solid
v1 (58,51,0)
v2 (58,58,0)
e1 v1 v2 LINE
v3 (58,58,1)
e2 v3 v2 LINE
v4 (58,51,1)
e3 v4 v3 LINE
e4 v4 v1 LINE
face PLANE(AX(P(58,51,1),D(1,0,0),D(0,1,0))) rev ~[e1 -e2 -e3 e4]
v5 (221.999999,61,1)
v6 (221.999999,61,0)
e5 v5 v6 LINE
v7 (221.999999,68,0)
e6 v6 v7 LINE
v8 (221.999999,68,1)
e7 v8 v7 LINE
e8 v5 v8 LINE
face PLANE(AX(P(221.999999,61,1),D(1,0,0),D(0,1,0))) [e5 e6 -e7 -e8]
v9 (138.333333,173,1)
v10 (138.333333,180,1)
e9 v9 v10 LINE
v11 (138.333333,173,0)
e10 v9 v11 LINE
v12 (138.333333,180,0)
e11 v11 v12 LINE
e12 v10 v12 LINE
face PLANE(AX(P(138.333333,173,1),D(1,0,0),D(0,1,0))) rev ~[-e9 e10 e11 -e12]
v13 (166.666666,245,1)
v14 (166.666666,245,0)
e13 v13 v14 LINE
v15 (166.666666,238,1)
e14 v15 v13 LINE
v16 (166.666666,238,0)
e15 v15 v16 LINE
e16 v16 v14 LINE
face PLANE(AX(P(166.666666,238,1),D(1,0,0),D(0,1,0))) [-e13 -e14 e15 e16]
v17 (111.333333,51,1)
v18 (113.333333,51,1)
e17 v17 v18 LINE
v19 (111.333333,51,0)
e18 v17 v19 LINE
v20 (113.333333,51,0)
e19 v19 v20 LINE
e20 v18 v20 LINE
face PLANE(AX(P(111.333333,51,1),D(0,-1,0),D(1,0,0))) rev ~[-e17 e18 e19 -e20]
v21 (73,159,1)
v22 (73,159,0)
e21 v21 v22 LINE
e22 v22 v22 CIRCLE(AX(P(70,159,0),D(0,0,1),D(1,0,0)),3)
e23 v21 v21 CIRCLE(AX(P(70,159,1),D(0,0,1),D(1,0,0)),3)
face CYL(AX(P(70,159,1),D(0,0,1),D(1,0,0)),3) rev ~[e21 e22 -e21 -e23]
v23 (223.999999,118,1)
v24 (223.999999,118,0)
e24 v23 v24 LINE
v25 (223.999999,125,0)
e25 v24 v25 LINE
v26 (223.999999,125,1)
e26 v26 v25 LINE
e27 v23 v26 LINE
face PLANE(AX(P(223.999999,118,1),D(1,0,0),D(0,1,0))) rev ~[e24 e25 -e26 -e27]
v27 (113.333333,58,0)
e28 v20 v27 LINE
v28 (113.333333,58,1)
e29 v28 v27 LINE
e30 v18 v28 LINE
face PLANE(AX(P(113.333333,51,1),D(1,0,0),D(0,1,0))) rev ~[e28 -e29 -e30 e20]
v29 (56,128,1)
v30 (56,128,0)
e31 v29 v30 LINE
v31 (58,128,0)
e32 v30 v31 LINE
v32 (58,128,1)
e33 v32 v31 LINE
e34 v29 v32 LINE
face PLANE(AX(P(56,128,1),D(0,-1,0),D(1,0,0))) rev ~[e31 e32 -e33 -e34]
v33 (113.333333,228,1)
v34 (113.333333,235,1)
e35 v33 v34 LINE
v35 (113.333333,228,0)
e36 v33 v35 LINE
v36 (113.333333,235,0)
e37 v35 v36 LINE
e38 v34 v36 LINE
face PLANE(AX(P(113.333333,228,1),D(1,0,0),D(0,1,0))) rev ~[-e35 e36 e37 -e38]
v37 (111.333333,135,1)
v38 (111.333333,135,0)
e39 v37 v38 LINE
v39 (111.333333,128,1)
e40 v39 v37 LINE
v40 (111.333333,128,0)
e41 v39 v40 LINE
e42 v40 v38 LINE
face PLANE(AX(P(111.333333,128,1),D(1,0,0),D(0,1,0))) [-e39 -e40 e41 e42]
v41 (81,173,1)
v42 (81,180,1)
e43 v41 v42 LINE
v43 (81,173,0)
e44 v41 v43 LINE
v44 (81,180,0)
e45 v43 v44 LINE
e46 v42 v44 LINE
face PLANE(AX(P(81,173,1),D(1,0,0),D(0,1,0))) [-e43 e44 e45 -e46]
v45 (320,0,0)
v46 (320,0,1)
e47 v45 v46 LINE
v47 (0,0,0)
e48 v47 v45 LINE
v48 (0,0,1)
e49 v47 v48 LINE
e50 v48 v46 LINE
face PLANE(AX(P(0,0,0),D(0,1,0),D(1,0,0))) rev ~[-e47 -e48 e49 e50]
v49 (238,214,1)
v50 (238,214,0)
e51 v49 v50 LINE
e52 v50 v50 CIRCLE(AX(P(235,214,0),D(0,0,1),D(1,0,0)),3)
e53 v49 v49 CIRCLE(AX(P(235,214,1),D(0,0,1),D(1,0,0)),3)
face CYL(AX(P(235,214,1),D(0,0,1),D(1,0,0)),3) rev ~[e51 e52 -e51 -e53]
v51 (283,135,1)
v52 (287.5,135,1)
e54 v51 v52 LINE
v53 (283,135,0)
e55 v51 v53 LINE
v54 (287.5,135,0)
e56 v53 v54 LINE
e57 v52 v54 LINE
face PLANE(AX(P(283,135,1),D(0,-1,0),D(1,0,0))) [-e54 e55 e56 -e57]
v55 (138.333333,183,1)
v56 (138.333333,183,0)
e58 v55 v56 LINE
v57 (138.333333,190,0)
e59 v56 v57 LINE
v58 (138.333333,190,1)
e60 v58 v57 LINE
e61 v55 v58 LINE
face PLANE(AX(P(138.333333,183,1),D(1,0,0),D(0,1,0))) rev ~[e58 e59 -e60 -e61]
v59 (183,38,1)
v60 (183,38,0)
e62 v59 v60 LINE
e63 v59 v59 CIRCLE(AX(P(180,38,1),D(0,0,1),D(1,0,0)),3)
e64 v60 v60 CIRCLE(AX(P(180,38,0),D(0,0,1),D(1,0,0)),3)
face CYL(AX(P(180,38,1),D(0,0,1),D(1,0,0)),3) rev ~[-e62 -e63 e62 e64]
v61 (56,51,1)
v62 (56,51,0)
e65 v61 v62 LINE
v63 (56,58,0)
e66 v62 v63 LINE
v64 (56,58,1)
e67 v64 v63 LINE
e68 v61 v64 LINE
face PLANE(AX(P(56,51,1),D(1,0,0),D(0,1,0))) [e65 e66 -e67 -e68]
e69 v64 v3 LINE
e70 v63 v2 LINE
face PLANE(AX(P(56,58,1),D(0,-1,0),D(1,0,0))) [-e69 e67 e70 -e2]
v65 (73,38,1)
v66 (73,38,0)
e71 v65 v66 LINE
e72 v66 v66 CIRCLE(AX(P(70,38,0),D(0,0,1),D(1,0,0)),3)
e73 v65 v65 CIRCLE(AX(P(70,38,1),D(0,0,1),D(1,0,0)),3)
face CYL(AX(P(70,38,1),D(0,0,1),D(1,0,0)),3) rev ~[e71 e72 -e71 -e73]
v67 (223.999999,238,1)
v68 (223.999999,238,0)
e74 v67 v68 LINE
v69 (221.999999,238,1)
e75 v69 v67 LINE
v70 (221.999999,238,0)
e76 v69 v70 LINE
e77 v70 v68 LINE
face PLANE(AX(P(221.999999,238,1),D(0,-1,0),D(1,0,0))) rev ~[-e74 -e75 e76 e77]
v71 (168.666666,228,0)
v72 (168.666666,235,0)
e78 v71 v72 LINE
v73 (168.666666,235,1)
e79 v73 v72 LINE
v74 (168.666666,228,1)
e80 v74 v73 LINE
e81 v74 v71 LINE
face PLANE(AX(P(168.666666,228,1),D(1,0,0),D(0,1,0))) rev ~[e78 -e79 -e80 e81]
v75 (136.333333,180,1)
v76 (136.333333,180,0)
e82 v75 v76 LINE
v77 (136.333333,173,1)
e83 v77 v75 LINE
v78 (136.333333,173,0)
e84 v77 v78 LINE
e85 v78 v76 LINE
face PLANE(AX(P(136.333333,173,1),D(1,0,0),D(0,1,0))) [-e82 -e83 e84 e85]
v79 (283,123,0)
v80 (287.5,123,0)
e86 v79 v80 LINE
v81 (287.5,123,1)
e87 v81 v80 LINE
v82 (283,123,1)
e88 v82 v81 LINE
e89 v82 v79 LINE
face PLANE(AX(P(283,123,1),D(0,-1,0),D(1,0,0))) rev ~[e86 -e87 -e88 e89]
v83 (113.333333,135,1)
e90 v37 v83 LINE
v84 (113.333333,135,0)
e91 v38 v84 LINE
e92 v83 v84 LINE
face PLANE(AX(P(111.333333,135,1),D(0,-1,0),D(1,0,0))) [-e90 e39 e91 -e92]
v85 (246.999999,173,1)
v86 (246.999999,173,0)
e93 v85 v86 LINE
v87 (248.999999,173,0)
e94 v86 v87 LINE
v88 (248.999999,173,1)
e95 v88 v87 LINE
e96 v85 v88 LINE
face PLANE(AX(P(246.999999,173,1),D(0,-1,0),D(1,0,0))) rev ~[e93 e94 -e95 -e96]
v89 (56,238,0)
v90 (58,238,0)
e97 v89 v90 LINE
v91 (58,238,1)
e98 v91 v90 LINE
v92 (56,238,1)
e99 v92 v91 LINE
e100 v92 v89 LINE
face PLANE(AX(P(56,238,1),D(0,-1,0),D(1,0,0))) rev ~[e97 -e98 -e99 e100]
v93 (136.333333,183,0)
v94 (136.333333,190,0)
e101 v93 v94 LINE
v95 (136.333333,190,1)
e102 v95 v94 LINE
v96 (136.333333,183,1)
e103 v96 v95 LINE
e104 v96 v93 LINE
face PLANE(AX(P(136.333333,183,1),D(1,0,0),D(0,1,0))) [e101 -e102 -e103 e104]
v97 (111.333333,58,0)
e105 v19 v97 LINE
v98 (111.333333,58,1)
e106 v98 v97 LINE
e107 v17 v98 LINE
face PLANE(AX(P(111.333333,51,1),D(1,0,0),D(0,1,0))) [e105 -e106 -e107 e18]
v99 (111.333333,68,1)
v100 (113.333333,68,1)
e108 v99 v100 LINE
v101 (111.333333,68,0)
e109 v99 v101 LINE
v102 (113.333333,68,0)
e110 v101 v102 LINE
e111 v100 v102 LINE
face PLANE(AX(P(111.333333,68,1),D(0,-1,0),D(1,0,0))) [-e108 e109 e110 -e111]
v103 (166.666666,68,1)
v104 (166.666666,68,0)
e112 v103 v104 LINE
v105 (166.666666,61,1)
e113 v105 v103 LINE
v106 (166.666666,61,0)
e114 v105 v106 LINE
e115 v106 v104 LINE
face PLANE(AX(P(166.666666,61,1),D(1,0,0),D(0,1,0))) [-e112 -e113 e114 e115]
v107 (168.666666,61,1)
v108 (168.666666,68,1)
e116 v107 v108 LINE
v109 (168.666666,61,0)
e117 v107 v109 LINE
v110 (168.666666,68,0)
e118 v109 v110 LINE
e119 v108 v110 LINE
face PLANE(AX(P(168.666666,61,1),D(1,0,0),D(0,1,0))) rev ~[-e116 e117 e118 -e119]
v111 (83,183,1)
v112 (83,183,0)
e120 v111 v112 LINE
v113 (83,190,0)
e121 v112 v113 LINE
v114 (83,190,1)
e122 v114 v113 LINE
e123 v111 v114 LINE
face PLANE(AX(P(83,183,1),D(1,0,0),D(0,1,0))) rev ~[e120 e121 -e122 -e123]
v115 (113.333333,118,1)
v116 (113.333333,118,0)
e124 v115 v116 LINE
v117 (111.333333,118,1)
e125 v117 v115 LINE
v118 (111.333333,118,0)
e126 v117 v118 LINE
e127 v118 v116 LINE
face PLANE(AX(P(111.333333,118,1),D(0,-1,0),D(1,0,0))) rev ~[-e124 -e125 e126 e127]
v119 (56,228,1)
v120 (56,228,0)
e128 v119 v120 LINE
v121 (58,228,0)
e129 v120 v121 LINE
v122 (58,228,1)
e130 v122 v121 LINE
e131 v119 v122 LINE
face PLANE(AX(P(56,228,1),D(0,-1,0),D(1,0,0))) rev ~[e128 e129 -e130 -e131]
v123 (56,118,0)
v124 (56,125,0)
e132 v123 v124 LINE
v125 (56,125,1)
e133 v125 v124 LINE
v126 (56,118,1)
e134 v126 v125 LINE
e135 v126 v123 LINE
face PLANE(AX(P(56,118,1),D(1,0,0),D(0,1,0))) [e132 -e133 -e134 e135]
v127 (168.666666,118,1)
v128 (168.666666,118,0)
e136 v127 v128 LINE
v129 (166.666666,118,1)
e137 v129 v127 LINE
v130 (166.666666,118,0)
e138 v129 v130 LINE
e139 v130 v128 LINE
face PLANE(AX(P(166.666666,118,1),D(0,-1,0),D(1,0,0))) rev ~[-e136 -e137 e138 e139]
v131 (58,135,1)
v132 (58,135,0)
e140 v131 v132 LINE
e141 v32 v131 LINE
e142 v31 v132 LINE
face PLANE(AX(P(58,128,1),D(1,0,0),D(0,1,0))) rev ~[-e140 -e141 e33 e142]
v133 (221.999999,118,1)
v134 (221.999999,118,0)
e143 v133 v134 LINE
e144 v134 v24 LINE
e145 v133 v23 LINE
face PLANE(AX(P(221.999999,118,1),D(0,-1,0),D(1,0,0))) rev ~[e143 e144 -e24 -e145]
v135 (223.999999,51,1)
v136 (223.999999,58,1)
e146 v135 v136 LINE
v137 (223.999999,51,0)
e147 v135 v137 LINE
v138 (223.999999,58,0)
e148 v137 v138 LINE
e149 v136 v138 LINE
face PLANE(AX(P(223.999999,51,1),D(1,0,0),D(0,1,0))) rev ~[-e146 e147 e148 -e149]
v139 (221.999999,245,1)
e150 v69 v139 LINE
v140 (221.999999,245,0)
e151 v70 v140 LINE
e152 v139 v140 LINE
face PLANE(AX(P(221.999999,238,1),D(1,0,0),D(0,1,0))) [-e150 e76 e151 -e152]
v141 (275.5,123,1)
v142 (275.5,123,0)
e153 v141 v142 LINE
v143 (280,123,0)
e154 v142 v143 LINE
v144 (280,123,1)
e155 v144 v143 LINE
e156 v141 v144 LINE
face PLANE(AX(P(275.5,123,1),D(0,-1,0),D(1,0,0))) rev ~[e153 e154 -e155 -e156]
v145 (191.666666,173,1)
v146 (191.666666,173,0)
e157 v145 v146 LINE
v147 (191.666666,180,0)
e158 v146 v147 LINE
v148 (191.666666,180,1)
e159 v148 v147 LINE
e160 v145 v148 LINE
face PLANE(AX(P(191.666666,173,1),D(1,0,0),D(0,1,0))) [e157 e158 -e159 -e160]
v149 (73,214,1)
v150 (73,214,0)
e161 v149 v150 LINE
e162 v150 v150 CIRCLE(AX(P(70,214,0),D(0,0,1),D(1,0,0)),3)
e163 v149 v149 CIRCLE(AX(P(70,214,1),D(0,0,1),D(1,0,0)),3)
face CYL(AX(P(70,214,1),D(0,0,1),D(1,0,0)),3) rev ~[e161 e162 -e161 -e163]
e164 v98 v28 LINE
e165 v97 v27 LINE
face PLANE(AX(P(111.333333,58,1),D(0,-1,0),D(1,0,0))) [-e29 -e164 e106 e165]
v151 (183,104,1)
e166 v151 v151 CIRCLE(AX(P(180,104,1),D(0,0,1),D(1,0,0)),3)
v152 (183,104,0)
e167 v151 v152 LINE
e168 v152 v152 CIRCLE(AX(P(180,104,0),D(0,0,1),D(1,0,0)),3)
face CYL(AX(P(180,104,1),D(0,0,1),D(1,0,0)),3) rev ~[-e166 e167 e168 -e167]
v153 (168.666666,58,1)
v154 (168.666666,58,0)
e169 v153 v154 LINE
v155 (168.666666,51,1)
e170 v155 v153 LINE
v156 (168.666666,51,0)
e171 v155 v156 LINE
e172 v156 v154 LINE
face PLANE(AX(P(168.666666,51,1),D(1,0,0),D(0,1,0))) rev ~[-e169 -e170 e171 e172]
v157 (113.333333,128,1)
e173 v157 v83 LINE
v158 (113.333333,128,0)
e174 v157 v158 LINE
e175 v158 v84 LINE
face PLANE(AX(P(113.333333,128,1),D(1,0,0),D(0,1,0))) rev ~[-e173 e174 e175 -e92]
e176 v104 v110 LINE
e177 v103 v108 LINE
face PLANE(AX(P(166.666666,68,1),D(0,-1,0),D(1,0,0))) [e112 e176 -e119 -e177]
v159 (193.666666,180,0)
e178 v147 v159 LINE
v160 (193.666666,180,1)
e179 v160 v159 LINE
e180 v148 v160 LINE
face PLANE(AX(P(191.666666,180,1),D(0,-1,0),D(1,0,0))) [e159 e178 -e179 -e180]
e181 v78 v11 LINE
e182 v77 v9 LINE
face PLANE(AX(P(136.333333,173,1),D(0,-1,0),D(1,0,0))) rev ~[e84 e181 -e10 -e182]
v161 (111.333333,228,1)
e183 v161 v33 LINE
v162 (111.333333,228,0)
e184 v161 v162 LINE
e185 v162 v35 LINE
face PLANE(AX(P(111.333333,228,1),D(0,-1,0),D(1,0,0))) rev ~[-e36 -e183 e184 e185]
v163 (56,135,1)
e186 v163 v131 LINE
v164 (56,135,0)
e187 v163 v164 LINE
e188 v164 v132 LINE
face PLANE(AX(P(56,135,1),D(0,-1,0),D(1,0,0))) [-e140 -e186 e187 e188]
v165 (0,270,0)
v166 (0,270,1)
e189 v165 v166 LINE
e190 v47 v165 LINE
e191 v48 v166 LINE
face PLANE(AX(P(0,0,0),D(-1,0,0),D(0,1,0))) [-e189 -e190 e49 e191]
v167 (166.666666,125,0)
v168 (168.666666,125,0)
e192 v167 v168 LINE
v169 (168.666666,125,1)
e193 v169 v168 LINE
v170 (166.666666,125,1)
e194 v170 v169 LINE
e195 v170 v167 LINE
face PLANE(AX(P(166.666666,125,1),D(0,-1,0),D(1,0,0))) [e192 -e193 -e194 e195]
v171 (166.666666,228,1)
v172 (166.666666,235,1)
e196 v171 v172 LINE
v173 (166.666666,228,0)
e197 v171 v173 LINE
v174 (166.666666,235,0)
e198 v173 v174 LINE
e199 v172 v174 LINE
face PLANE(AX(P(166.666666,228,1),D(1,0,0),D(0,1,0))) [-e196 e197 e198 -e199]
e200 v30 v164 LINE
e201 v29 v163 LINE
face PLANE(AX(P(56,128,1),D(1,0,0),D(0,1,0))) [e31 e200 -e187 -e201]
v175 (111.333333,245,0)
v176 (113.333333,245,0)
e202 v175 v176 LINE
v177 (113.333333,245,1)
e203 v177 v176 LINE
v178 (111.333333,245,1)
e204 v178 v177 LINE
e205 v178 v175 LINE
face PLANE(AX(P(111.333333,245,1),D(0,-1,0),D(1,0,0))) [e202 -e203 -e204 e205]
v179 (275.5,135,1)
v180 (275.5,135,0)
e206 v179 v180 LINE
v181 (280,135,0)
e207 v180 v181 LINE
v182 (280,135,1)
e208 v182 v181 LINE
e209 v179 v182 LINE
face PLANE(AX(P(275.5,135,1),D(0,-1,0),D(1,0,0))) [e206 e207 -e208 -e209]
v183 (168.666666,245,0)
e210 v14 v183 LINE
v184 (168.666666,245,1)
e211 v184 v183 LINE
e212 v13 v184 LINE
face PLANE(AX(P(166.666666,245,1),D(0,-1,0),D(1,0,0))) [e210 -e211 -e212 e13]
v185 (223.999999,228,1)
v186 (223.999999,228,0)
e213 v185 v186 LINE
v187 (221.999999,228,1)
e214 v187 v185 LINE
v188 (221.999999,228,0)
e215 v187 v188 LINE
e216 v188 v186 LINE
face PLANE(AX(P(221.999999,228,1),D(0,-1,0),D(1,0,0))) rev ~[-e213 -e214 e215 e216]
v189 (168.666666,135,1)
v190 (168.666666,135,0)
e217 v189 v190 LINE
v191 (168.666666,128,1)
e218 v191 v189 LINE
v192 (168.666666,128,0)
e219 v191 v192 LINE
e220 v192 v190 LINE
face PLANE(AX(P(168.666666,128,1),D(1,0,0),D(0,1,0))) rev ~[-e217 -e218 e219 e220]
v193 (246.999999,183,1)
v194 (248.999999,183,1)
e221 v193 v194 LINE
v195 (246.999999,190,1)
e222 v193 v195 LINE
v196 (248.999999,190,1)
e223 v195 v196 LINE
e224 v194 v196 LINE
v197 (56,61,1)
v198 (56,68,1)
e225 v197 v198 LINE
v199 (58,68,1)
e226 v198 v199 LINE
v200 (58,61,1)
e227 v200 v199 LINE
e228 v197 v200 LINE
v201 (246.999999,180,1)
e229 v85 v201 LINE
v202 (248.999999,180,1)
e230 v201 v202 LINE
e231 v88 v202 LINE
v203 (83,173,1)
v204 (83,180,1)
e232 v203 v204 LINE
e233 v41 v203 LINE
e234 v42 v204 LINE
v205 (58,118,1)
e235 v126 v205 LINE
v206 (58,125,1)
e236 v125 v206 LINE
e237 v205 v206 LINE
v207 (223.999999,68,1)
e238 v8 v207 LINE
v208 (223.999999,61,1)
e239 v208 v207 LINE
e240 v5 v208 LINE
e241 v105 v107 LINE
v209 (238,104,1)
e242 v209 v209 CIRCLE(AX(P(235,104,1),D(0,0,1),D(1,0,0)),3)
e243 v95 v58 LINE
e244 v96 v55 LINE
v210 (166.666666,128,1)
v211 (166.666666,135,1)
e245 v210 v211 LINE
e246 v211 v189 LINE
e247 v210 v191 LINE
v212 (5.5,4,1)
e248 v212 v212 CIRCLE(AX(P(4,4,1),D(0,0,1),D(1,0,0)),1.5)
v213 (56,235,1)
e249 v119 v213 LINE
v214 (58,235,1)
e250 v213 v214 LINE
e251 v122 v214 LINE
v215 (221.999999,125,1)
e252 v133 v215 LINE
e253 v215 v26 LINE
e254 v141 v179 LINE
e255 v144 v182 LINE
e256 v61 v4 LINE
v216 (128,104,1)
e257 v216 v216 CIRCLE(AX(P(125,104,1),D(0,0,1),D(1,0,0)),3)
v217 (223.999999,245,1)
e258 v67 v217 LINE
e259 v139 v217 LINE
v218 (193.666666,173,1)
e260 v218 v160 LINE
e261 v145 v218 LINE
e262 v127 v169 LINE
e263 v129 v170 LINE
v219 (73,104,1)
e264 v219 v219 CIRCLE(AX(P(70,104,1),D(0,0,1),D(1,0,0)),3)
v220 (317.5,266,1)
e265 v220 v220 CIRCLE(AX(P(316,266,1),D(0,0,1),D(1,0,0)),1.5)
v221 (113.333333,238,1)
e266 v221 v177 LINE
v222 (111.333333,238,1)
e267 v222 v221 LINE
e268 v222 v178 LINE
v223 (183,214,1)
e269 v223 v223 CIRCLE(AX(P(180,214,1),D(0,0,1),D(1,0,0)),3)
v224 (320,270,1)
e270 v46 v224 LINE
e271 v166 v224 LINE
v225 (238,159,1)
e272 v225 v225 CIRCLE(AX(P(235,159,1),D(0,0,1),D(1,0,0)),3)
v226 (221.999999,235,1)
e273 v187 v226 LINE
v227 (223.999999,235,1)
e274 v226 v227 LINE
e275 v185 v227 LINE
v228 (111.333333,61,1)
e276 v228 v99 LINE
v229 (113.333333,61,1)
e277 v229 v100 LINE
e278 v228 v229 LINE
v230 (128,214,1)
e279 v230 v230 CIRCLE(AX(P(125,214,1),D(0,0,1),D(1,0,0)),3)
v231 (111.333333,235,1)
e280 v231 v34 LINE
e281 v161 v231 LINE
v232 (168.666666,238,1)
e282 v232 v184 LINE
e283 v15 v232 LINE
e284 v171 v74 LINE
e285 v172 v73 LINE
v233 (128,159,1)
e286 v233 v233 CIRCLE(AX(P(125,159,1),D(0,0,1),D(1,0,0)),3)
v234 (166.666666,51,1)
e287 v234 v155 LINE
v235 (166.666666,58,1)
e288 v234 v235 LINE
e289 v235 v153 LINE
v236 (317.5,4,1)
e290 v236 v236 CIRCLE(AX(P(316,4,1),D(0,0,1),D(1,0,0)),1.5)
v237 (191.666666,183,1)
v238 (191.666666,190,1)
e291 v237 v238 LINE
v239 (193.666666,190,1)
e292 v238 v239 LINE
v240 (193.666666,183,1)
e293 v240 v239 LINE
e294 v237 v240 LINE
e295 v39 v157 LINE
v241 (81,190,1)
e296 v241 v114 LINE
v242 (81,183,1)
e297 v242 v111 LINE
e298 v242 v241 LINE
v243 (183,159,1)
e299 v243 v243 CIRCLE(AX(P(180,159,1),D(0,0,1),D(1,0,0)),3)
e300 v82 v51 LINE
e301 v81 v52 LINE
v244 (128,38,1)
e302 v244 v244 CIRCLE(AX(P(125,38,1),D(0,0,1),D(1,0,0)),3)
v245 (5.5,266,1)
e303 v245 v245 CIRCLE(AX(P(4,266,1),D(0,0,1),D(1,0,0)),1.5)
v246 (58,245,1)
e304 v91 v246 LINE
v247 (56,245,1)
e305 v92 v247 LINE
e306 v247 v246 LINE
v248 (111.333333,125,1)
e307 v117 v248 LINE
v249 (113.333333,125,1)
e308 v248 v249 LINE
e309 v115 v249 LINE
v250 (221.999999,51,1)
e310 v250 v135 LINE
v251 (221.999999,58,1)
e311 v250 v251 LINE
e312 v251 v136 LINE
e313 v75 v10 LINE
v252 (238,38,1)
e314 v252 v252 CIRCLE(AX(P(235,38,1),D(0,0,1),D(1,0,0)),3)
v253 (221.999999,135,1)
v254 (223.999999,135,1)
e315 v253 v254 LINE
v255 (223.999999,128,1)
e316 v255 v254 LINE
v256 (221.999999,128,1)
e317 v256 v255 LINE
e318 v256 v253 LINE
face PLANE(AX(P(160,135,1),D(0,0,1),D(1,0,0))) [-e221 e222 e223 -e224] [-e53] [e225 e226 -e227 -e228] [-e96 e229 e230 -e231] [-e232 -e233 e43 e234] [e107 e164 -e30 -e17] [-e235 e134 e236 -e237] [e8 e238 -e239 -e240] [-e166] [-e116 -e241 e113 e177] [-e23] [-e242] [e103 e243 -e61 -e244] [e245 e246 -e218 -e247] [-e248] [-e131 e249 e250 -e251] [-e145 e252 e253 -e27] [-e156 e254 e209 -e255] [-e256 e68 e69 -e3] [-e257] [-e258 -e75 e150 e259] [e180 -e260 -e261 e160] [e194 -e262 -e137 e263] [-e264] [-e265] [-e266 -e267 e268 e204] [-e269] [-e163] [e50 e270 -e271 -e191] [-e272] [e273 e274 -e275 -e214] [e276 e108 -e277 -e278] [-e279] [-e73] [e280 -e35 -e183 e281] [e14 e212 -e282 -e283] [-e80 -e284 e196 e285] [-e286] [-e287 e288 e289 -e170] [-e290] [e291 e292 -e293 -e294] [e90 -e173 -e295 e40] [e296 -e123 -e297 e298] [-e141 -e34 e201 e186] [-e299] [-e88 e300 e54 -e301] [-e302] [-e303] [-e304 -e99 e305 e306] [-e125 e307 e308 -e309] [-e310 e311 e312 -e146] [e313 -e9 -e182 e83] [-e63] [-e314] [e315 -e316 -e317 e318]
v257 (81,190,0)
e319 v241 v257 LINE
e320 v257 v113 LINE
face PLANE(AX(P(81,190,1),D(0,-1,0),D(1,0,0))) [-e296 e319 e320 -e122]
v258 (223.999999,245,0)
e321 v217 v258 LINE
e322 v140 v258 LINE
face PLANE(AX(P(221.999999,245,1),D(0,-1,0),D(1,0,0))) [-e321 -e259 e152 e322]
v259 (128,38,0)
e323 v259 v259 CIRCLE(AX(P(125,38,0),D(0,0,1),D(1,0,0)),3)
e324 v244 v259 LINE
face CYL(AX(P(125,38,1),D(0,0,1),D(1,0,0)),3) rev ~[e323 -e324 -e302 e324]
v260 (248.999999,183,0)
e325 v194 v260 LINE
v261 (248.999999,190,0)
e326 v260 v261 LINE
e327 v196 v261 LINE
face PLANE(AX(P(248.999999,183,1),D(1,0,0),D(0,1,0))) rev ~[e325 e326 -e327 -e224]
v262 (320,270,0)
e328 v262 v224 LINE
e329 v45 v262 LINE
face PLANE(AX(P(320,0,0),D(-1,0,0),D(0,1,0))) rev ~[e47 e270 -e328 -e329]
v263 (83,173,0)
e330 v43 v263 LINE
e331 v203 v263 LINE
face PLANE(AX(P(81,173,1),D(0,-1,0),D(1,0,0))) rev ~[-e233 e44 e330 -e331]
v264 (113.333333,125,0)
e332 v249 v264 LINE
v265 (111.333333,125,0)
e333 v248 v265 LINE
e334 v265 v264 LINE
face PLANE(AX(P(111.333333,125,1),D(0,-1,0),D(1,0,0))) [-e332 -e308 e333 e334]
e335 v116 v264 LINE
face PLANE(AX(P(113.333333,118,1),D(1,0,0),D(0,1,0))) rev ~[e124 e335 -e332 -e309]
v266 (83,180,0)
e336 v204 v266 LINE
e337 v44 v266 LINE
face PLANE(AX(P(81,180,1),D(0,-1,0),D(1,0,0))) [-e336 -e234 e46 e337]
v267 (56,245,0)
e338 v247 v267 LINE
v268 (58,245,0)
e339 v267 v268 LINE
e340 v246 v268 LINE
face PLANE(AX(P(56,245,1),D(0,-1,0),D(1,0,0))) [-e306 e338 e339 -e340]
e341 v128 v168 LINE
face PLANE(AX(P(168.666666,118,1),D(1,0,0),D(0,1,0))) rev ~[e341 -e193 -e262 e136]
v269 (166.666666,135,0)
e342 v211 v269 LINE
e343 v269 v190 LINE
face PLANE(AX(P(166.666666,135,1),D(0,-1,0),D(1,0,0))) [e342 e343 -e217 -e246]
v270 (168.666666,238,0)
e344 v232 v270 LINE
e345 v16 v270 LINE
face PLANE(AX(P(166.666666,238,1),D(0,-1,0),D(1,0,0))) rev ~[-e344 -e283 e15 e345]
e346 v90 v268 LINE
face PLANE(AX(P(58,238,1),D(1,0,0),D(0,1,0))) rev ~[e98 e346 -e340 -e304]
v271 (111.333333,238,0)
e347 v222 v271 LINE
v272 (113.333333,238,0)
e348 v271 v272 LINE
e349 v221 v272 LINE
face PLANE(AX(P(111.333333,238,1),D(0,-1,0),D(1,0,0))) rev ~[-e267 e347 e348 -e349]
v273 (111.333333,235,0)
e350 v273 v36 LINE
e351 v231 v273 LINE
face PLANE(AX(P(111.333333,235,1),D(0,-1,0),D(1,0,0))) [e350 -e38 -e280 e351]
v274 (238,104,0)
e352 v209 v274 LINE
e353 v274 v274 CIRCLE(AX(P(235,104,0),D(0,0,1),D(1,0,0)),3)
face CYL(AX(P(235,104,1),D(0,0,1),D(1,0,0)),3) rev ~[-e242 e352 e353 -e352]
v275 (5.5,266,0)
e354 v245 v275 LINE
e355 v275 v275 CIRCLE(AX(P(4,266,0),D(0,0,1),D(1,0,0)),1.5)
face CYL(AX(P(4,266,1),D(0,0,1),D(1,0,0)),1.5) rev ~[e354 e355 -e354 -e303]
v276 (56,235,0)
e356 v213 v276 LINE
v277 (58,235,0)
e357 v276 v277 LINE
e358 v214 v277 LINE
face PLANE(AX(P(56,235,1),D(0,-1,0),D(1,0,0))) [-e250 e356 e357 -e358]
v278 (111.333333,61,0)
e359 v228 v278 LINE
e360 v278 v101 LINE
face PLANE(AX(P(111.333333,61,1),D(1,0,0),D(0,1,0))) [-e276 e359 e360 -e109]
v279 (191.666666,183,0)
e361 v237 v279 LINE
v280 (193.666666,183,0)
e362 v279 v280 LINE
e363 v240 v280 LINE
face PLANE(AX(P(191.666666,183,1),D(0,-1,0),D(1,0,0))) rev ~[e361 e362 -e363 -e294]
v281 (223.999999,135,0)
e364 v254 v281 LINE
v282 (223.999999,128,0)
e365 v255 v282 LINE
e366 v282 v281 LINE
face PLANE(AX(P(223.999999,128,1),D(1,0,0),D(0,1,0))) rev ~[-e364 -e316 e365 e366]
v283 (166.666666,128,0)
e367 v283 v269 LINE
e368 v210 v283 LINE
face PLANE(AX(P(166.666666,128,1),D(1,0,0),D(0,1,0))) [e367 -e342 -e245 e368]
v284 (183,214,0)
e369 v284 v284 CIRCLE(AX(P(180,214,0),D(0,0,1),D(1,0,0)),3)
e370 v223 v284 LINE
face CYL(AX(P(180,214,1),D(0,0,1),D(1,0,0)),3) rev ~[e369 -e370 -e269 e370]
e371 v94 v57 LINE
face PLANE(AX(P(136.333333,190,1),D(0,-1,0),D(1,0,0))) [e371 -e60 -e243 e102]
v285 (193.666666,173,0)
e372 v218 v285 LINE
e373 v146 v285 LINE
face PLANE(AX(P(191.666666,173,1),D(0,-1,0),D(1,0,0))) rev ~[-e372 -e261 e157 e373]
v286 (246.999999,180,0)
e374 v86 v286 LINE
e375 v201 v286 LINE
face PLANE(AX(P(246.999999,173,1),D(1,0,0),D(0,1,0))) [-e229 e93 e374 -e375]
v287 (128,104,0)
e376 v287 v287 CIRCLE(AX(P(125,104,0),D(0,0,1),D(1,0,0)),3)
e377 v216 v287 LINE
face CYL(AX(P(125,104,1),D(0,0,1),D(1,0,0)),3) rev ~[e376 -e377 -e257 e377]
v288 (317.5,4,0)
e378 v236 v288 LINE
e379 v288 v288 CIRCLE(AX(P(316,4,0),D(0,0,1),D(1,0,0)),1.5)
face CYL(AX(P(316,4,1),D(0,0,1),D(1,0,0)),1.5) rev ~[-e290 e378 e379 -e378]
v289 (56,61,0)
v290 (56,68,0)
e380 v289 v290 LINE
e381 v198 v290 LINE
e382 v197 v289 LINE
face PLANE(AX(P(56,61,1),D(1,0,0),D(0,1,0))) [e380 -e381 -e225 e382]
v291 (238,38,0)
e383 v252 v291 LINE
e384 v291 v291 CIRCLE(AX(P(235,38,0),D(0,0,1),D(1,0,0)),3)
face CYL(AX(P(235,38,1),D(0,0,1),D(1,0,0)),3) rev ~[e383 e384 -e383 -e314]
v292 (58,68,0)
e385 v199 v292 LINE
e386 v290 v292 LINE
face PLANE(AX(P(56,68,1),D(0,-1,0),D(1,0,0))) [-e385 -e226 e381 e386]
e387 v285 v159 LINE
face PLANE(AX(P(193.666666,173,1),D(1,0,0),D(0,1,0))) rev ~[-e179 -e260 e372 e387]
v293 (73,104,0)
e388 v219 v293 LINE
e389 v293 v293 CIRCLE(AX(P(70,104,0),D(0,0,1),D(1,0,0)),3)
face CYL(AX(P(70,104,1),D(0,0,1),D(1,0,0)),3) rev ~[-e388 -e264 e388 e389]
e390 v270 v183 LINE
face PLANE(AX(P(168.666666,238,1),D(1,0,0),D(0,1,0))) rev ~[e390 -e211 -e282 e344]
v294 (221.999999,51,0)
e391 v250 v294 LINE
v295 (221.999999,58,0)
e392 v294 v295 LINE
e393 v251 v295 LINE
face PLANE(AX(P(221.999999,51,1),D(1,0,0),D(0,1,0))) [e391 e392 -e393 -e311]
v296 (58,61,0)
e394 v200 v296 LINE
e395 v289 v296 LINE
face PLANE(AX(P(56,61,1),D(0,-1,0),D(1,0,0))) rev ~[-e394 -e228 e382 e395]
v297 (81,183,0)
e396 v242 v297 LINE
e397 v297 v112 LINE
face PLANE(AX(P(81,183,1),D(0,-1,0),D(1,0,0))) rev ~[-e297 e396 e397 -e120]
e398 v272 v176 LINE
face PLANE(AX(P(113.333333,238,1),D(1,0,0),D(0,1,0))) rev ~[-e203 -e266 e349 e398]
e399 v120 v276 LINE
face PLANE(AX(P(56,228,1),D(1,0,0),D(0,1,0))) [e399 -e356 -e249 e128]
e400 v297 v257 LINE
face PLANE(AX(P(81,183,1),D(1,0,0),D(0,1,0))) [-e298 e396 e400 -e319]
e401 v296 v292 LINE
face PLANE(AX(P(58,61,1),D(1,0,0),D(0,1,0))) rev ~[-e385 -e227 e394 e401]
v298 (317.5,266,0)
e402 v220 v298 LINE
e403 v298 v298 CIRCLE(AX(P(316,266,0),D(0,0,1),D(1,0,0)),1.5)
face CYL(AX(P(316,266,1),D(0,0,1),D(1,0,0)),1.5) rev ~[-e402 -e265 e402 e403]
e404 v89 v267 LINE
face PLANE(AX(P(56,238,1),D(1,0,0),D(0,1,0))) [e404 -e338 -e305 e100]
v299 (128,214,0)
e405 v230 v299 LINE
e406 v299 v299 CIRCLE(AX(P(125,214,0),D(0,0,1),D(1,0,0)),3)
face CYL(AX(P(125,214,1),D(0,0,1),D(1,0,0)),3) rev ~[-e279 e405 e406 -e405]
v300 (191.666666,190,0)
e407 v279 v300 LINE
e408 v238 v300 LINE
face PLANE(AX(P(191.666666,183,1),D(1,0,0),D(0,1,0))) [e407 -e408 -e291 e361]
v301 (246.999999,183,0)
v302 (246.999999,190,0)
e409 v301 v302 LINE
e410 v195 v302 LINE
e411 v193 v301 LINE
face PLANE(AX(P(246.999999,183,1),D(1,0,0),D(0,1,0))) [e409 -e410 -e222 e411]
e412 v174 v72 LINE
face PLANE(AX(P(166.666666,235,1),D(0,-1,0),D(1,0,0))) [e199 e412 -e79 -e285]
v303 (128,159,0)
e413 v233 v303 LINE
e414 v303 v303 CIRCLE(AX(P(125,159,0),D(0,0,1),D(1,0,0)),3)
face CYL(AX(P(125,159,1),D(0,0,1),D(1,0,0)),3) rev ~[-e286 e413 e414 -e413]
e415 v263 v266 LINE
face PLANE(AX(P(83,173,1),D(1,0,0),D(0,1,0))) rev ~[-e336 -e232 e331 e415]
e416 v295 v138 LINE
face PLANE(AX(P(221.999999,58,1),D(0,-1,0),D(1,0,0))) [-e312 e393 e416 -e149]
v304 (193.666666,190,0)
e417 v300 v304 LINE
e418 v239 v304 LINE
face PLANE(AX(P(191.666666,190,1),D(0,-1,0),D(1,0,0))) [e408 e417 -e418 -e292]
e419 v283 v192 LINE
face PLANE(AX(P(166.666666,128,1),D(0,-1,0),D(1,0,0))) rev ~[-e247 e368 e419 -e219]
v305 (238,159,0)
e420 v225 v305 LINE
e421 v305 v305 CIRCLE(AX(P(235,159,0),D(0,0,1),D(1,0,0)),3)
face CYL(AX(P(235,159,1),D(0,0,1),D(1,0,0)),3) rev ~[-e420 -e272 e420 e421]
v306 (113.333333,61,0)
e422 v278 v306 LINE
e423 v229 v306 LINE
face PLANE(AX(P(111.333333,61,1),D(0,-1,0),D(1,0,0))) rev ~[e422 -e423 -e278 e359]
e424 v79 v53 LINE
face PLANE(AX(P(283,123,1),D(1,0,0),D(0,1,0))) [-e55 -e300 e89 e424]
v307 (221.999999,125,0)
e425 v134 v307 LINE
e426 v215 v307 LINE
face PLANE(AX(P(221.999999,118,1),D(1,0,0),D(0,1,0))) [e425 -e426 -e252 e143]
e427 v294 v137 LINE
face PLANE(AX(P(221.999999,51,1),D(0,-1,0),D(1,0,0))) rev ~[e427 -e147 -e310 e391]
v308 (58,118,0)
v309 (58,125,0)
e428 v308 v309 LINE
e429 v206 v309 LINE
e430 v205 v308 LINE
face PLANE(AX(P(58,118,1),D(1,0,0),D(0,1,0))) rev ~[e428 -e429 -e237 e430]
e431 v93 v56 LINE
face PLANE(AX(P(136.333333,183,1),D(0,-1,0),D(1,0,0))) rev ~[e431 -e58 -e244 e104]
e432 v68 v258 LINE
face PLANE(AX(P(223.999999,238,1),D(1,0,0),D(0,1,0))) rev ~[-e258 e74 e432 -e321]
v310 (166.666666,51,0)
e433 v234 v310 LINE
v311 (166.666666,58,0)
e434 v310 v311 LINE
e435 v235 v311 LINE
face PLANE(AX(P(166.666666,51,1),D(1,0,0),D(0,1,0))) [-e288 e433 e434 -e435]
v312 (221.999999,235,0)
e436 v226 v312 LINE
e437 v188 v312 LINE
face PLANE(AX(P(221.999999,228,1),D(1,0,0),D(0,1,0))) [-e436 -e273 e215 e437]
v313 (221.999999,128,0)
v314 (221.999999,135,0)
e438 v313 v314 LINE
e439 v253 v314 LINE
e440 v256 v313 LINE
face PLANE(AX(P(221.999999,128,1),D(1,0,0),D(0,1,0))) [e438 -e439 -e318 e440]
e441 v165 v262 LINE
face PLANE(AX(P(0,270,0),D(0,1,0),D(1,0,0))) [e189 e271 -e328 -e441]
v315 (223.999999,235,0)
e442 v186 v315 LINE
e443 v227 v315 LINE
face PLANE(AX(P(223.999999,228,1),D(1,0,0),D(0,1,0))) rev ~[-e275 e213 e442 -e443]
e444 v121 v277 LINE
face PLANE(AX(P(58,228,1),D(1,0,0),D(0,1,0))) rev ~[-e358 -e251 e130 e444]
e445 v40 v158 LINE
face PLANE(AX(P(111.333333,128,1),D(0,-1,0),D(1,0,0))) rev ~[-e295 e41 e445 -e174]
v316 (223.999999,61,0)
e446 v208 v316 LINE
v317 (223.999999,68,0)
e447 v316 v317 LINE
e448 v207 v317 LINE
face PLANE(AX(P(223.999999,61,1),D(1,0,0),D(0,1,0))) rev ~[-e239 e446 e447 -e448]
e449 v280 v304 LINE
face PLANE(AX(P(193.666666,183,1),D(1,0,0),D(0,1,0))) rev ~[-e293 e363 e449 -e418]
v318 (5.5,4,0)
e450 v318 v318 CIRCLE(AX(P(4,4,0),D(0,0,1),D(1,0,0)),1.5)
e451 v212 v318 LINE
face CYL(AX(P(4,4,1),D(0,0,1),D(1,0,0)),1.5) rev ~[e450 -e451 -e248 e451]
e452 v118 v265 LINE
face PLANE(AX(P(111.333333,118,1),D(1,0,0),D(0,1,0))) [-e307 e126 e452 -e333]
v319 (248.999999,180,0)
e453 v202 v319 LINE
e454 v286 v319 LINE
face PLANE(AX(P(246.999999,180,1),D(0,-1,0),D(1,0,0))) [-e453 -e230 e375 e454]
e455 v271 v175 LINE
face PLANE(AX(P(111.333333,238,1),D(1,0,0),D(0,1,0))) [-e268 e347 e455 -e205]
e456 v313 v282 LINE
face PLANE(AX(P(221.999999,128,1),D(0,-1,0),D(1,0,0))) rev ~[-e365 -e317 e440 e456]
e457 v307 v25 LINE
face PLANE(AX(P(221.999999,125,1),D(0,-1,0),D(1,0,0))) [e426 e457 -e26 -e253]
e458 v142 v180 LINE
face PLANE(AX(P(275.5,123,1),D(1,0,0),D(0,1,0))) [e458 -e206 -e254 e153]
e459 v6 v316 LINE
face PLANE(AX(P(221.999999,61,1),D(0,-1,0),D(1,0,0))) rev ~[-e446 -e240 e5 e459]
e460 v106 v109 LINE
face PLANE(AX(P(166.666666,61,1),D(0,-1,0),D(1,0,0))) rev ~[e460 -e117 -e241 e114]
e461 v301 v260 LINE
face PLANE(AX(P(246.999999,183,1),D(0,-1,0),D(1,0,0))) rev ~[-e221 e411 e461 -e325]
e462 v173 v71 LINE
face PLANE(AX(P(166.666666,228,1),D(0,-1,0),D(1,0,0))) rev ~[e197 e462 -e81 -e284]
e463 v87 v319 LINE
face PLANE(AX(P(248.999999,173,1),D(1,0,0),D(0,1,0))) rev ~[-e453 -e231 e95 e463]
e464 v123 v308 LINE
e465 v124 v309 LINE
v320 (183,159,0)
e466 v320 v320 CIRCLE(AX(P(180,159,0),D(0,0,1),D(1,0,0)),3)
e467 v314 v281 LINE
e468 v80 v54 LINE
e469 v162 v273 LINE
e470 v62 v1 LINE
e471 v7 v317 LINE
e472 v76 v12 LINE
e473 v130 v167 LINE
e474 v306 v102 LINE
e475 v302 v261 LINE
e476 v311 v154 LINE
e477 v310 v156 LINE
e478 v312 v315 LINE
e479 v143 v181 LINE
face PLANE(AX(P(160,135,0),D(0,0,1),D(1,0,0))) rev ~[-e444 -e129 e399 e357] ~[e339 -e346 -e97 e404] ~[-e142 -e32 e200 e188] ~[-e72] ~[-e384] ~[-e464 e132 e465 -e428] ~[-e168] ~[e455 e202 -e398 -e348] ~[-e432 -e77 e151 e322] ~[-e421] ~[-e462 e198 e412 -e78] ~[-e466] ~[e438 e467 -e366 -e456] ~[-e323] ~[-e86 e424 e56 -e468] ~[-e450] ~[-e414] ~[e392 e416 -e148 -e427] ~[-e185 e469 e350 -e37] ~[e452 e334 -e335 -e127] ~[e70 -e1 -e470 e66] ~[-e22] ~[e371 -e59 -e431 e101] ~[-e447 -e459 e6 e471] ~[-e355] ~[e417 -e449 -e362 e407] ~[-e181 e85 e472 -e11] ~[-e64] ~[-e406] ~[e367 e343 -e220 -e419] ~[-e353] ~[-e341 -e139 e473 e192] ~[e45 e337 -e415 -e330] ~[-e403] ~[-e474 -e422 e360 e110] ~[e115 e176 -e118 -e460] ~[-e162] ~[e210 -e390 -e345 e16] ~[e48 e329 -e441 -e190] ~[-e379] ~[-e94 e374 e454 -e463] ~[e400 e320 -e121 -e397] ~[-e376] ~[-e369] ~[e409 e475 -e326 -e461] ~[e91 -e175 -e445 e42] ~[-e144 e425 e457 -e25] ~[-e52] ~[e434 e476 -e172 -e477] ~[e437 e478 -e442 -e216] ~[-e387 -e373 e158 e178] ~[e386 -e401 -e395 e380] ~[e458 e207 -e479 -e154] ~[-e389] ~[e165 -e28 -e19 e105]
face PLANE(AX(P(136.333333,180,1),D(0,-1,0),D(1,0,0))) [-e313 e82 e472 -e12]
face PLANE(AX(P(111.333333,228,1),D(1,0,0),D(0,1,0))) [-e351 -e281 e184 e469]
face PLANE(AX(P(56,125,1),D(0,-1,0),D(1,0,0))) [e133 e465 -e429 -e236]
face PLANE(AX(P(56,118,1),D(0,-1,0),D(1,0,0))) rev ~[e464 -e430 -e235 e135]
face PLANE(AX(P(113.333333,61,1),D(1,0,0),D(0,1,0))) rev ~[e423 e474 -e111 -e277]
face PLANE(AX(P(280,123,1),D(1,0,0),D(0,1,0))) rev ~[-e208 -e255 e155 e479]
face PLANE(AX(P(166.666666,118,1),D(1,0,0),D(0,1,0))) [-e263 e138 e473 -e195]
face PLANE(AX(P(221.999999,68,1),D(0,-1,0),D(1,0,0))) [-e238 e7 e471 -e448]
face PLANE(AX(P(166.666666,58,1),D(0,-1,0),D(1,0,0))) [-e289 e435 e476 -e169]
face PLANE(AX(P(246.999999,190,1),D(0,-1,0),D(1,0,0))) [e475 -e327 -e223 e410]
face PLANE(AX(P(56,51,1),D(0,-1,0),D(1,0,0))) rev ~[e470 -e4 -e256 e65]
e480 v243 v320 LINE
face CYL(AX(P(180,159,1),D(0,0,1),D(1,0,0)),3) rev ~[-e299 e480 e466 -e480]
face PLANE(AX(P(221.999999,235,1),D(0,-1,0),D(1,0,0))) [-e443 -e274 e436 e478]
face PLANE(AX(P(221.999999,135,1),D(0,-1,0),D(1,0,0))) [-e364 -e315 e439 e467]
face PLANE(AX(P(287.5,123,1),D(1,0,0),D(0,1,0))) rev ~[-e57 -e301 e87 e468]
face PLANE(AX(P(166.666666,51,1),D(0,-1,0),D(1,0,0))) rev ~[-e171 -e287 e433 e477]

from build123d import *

# Parameters (mm, degrees)
BOX_W                  = 320
BOX_H                  = 270
BOX_DEPTH              = 1
SKETCH_W               = 2
SKETCH_H               = 7
POCKET_DEPTH           = 5
LINEARPATTERN_COUNT    = 4
LINEARPATTERN_PITCH    = 55.333333
SKETCH001_W            = 2
SKETCH001_H            = 7
POCKET001_DEPTH        = 5
LINEARPATTERN001_COUNT = 4
LINEARPATTERN001_PITCH = 55.333333
SKETCH002_W            = 2
SKETCH002_H            = 7
POCKET002_DEPTH        = 5
LINEARPATTERN002_COUNT = 4
LINEARPATTERN002_PITCH = 55.333333
SKETCH003_W            = 2
SKETCH003_H            = 7
POCKET003_DEPTH        = 5
LINEARPATTERN003_COUNT = 4
LINEARPATTERN003_PITCH = 55.333333
SKETCH004_R            = 3
POCKET004_DEPTH        = 5
LINEARPATTERN004_COUNT = 3
LINEARPATTERN004_PITCH = 55
SKETCH005_R            = 3
POCKET005_DEPTH        = 5
SKETCH006_W            = 4.5
SKETCH006_H            = 12
POCKET006_DEPTH        = 5
SKETCH007_R            = 1.5
POCKET007_DEPTH        = 5


with BuildPart() as part:
    # Box → Box (new body)
    with BuildSketch(Plane.XY):
        with Locations((160, 135)):
            Rectangle(BOX_W, BOX_H)
    extrude(amount=BOX_DEPTH)

    # Sketch → Pocket (cut)
    with BuildSketch(Plane.XY.offset(1)):
        with Locations((57, 241.5)):
            Rectangle(SKETCH_W, SKETCH_H)
        with Locations((57, 231.5)):
            Rectangle(SKETCH_W, SKETCH_H)
    pocket = extrude(amount=-POCKET_DEPTH, mode=Mode.SUBTRACT)

    # LinearPattern: Pocket ×4
    with Locations(*[(i * LINEARPATTERN_PITCH, 0, 0) for i in range(1, LINEARPATTERN_COUNT)]):
        add(pocket, mode=Mode.SUBTRACT)

    # Sketch001 → Pocket001 (cut)
    with BuildSketch(Plane.XY.offset(1)):
        with Locations((57, 131.5)):
            Rectangle(SKETCH001_W, SKETCH001_H)
        with Locations((57, 121.5)):
            Rectangle(SKETCH001_W, SKETCH001_H)
    pocket001 = extrude(amount=-POCKET001_DEPTH, mode=Mode.SUBTRACT)

    # LinearPattern001: Pocket001 ×4
    with Locations(*[(i * LINEARPATTERN001_PITCH, 0, 0) for i in range(1, LINEARPATTERN001_COUNT)]):
        add(pocket001, mode=Mode.SUBTRACT)

    # Sketch002 → Pocket002 (cut)
    with BuildSketch(Plane.XY.offset(1)):
        with Locations((57, 64.5)):
            Rectangle(SKETCH002_W, SKETCH002_H)
        with Locations((57, 54.5)):
            Rectangle(SKETCH002_W, SKETCH002_H)
    pocket002 = extrude(amount=-POCKET002_DEPTH, mode=Mode.SUBTRACT)

    # LinearPattern002: Pocket002 ×4
    with Locations(*[(i * LINEARPATTERN002_PITCH, 0, 0) for i in range(1, LINEARPATTERN002_COUNT)]):
        add(pocket002, mode=Mode.SUBTRACT)

    # Sketch003 → Pocket003 (cut)
    with BuildSketch(Plane.XY.offset(1)):
        with Locations((82, 186.5)):
            Rectangle(SKETCH003_W, SKETCH003_H)
        with Locations((82, 176.5)):
            Rectangle(SKETCH003_W, SKETCH003_H)
    pocket003 = extrude(amount=-POCKET003_DEPTH, mode=Mode.SUBTRACT)

    # LinearPattern003: Pocket003 ×4
    with Locations(*[(i * LINEARPATTERN003_PITCH, 0, 0) for i in range(1, LINEARPATTERN003_COUNT)]):
        add(pocket003, mode=Mode.SUBTRACT)

    # Sketch004 → Pocket004 (cut)
    with BuildSketch(Plane.XY.offset(1)):
        with Locations((70, 214)):
            Circle(SKETCH004_R)
        with Locations((125, 214)):
            Circle(SKETCH004_R)
        with Locations((180, 214)):
            Circle(SKETCH004_R)
        with Locations((235, 214)):
            Circle(SKETCH004_R)
    pocket004 = extrude(amount=-POCKET004_DEPTH, mode=Mode.SUBTRACT)

    # LinearPattern004: Pocket004 ×3
    with Locations(*[(0, -i * LINEARPATTERN004_PITCH, 0) for i in range(1, LINEARPATTERN004_COUNT)]):
        add(pocket004, mode=Mode.SUBTRACT)

    # Sketch005 → Pocket005 (cut)
    with BuildSketch(Plane.XY.offset(1)):
        with Locations((70, 38)):
            Circle(SKETCH005_R)
        with Locations((125, 38)):
            Circle(SKETCH005_R)
        with Locations((180, 38)):
            Circle(SKETCH005_R)
        with Locations((235, 38)):
            Circle(SKETCH005_R)
    extrude(amount=-POCKET005_DEPTH, mode=Mode.SUBTRACT)

    # Sketch006 → Pocket006 (cut)
    with BuildSketch(Plane.XY.offset(1)):
        with Locations((277.75, 129)):
            Rectangle(SKETCH006_W, SKETCH006_H)
        with Locations((285.25, 129)):
            Rectangle(SKETCH006_W, SKETCH006_H)
    extrude(amount=-POCKET006_DEPTH, mode=Mode.SUBTRACT)

    # Sketch007 → Pocket007 (cut)
    with BuildSketch(Plane.XY.offset(1)):
        with Locations((4, 4)):
            Circle(SKETCH007_R)
        with Locations((4, 266)):
            Circle(SKETCH007_R)
        with Locations((316, 266)):
            Circle(SKETCH007_R)
        with Locations((316, 4)):
            Circle(SKETCH007_R)
    extrude(amount=-POCKET007_DEPTH, mode=Mode.SUBTRACT)


solid = part.part
